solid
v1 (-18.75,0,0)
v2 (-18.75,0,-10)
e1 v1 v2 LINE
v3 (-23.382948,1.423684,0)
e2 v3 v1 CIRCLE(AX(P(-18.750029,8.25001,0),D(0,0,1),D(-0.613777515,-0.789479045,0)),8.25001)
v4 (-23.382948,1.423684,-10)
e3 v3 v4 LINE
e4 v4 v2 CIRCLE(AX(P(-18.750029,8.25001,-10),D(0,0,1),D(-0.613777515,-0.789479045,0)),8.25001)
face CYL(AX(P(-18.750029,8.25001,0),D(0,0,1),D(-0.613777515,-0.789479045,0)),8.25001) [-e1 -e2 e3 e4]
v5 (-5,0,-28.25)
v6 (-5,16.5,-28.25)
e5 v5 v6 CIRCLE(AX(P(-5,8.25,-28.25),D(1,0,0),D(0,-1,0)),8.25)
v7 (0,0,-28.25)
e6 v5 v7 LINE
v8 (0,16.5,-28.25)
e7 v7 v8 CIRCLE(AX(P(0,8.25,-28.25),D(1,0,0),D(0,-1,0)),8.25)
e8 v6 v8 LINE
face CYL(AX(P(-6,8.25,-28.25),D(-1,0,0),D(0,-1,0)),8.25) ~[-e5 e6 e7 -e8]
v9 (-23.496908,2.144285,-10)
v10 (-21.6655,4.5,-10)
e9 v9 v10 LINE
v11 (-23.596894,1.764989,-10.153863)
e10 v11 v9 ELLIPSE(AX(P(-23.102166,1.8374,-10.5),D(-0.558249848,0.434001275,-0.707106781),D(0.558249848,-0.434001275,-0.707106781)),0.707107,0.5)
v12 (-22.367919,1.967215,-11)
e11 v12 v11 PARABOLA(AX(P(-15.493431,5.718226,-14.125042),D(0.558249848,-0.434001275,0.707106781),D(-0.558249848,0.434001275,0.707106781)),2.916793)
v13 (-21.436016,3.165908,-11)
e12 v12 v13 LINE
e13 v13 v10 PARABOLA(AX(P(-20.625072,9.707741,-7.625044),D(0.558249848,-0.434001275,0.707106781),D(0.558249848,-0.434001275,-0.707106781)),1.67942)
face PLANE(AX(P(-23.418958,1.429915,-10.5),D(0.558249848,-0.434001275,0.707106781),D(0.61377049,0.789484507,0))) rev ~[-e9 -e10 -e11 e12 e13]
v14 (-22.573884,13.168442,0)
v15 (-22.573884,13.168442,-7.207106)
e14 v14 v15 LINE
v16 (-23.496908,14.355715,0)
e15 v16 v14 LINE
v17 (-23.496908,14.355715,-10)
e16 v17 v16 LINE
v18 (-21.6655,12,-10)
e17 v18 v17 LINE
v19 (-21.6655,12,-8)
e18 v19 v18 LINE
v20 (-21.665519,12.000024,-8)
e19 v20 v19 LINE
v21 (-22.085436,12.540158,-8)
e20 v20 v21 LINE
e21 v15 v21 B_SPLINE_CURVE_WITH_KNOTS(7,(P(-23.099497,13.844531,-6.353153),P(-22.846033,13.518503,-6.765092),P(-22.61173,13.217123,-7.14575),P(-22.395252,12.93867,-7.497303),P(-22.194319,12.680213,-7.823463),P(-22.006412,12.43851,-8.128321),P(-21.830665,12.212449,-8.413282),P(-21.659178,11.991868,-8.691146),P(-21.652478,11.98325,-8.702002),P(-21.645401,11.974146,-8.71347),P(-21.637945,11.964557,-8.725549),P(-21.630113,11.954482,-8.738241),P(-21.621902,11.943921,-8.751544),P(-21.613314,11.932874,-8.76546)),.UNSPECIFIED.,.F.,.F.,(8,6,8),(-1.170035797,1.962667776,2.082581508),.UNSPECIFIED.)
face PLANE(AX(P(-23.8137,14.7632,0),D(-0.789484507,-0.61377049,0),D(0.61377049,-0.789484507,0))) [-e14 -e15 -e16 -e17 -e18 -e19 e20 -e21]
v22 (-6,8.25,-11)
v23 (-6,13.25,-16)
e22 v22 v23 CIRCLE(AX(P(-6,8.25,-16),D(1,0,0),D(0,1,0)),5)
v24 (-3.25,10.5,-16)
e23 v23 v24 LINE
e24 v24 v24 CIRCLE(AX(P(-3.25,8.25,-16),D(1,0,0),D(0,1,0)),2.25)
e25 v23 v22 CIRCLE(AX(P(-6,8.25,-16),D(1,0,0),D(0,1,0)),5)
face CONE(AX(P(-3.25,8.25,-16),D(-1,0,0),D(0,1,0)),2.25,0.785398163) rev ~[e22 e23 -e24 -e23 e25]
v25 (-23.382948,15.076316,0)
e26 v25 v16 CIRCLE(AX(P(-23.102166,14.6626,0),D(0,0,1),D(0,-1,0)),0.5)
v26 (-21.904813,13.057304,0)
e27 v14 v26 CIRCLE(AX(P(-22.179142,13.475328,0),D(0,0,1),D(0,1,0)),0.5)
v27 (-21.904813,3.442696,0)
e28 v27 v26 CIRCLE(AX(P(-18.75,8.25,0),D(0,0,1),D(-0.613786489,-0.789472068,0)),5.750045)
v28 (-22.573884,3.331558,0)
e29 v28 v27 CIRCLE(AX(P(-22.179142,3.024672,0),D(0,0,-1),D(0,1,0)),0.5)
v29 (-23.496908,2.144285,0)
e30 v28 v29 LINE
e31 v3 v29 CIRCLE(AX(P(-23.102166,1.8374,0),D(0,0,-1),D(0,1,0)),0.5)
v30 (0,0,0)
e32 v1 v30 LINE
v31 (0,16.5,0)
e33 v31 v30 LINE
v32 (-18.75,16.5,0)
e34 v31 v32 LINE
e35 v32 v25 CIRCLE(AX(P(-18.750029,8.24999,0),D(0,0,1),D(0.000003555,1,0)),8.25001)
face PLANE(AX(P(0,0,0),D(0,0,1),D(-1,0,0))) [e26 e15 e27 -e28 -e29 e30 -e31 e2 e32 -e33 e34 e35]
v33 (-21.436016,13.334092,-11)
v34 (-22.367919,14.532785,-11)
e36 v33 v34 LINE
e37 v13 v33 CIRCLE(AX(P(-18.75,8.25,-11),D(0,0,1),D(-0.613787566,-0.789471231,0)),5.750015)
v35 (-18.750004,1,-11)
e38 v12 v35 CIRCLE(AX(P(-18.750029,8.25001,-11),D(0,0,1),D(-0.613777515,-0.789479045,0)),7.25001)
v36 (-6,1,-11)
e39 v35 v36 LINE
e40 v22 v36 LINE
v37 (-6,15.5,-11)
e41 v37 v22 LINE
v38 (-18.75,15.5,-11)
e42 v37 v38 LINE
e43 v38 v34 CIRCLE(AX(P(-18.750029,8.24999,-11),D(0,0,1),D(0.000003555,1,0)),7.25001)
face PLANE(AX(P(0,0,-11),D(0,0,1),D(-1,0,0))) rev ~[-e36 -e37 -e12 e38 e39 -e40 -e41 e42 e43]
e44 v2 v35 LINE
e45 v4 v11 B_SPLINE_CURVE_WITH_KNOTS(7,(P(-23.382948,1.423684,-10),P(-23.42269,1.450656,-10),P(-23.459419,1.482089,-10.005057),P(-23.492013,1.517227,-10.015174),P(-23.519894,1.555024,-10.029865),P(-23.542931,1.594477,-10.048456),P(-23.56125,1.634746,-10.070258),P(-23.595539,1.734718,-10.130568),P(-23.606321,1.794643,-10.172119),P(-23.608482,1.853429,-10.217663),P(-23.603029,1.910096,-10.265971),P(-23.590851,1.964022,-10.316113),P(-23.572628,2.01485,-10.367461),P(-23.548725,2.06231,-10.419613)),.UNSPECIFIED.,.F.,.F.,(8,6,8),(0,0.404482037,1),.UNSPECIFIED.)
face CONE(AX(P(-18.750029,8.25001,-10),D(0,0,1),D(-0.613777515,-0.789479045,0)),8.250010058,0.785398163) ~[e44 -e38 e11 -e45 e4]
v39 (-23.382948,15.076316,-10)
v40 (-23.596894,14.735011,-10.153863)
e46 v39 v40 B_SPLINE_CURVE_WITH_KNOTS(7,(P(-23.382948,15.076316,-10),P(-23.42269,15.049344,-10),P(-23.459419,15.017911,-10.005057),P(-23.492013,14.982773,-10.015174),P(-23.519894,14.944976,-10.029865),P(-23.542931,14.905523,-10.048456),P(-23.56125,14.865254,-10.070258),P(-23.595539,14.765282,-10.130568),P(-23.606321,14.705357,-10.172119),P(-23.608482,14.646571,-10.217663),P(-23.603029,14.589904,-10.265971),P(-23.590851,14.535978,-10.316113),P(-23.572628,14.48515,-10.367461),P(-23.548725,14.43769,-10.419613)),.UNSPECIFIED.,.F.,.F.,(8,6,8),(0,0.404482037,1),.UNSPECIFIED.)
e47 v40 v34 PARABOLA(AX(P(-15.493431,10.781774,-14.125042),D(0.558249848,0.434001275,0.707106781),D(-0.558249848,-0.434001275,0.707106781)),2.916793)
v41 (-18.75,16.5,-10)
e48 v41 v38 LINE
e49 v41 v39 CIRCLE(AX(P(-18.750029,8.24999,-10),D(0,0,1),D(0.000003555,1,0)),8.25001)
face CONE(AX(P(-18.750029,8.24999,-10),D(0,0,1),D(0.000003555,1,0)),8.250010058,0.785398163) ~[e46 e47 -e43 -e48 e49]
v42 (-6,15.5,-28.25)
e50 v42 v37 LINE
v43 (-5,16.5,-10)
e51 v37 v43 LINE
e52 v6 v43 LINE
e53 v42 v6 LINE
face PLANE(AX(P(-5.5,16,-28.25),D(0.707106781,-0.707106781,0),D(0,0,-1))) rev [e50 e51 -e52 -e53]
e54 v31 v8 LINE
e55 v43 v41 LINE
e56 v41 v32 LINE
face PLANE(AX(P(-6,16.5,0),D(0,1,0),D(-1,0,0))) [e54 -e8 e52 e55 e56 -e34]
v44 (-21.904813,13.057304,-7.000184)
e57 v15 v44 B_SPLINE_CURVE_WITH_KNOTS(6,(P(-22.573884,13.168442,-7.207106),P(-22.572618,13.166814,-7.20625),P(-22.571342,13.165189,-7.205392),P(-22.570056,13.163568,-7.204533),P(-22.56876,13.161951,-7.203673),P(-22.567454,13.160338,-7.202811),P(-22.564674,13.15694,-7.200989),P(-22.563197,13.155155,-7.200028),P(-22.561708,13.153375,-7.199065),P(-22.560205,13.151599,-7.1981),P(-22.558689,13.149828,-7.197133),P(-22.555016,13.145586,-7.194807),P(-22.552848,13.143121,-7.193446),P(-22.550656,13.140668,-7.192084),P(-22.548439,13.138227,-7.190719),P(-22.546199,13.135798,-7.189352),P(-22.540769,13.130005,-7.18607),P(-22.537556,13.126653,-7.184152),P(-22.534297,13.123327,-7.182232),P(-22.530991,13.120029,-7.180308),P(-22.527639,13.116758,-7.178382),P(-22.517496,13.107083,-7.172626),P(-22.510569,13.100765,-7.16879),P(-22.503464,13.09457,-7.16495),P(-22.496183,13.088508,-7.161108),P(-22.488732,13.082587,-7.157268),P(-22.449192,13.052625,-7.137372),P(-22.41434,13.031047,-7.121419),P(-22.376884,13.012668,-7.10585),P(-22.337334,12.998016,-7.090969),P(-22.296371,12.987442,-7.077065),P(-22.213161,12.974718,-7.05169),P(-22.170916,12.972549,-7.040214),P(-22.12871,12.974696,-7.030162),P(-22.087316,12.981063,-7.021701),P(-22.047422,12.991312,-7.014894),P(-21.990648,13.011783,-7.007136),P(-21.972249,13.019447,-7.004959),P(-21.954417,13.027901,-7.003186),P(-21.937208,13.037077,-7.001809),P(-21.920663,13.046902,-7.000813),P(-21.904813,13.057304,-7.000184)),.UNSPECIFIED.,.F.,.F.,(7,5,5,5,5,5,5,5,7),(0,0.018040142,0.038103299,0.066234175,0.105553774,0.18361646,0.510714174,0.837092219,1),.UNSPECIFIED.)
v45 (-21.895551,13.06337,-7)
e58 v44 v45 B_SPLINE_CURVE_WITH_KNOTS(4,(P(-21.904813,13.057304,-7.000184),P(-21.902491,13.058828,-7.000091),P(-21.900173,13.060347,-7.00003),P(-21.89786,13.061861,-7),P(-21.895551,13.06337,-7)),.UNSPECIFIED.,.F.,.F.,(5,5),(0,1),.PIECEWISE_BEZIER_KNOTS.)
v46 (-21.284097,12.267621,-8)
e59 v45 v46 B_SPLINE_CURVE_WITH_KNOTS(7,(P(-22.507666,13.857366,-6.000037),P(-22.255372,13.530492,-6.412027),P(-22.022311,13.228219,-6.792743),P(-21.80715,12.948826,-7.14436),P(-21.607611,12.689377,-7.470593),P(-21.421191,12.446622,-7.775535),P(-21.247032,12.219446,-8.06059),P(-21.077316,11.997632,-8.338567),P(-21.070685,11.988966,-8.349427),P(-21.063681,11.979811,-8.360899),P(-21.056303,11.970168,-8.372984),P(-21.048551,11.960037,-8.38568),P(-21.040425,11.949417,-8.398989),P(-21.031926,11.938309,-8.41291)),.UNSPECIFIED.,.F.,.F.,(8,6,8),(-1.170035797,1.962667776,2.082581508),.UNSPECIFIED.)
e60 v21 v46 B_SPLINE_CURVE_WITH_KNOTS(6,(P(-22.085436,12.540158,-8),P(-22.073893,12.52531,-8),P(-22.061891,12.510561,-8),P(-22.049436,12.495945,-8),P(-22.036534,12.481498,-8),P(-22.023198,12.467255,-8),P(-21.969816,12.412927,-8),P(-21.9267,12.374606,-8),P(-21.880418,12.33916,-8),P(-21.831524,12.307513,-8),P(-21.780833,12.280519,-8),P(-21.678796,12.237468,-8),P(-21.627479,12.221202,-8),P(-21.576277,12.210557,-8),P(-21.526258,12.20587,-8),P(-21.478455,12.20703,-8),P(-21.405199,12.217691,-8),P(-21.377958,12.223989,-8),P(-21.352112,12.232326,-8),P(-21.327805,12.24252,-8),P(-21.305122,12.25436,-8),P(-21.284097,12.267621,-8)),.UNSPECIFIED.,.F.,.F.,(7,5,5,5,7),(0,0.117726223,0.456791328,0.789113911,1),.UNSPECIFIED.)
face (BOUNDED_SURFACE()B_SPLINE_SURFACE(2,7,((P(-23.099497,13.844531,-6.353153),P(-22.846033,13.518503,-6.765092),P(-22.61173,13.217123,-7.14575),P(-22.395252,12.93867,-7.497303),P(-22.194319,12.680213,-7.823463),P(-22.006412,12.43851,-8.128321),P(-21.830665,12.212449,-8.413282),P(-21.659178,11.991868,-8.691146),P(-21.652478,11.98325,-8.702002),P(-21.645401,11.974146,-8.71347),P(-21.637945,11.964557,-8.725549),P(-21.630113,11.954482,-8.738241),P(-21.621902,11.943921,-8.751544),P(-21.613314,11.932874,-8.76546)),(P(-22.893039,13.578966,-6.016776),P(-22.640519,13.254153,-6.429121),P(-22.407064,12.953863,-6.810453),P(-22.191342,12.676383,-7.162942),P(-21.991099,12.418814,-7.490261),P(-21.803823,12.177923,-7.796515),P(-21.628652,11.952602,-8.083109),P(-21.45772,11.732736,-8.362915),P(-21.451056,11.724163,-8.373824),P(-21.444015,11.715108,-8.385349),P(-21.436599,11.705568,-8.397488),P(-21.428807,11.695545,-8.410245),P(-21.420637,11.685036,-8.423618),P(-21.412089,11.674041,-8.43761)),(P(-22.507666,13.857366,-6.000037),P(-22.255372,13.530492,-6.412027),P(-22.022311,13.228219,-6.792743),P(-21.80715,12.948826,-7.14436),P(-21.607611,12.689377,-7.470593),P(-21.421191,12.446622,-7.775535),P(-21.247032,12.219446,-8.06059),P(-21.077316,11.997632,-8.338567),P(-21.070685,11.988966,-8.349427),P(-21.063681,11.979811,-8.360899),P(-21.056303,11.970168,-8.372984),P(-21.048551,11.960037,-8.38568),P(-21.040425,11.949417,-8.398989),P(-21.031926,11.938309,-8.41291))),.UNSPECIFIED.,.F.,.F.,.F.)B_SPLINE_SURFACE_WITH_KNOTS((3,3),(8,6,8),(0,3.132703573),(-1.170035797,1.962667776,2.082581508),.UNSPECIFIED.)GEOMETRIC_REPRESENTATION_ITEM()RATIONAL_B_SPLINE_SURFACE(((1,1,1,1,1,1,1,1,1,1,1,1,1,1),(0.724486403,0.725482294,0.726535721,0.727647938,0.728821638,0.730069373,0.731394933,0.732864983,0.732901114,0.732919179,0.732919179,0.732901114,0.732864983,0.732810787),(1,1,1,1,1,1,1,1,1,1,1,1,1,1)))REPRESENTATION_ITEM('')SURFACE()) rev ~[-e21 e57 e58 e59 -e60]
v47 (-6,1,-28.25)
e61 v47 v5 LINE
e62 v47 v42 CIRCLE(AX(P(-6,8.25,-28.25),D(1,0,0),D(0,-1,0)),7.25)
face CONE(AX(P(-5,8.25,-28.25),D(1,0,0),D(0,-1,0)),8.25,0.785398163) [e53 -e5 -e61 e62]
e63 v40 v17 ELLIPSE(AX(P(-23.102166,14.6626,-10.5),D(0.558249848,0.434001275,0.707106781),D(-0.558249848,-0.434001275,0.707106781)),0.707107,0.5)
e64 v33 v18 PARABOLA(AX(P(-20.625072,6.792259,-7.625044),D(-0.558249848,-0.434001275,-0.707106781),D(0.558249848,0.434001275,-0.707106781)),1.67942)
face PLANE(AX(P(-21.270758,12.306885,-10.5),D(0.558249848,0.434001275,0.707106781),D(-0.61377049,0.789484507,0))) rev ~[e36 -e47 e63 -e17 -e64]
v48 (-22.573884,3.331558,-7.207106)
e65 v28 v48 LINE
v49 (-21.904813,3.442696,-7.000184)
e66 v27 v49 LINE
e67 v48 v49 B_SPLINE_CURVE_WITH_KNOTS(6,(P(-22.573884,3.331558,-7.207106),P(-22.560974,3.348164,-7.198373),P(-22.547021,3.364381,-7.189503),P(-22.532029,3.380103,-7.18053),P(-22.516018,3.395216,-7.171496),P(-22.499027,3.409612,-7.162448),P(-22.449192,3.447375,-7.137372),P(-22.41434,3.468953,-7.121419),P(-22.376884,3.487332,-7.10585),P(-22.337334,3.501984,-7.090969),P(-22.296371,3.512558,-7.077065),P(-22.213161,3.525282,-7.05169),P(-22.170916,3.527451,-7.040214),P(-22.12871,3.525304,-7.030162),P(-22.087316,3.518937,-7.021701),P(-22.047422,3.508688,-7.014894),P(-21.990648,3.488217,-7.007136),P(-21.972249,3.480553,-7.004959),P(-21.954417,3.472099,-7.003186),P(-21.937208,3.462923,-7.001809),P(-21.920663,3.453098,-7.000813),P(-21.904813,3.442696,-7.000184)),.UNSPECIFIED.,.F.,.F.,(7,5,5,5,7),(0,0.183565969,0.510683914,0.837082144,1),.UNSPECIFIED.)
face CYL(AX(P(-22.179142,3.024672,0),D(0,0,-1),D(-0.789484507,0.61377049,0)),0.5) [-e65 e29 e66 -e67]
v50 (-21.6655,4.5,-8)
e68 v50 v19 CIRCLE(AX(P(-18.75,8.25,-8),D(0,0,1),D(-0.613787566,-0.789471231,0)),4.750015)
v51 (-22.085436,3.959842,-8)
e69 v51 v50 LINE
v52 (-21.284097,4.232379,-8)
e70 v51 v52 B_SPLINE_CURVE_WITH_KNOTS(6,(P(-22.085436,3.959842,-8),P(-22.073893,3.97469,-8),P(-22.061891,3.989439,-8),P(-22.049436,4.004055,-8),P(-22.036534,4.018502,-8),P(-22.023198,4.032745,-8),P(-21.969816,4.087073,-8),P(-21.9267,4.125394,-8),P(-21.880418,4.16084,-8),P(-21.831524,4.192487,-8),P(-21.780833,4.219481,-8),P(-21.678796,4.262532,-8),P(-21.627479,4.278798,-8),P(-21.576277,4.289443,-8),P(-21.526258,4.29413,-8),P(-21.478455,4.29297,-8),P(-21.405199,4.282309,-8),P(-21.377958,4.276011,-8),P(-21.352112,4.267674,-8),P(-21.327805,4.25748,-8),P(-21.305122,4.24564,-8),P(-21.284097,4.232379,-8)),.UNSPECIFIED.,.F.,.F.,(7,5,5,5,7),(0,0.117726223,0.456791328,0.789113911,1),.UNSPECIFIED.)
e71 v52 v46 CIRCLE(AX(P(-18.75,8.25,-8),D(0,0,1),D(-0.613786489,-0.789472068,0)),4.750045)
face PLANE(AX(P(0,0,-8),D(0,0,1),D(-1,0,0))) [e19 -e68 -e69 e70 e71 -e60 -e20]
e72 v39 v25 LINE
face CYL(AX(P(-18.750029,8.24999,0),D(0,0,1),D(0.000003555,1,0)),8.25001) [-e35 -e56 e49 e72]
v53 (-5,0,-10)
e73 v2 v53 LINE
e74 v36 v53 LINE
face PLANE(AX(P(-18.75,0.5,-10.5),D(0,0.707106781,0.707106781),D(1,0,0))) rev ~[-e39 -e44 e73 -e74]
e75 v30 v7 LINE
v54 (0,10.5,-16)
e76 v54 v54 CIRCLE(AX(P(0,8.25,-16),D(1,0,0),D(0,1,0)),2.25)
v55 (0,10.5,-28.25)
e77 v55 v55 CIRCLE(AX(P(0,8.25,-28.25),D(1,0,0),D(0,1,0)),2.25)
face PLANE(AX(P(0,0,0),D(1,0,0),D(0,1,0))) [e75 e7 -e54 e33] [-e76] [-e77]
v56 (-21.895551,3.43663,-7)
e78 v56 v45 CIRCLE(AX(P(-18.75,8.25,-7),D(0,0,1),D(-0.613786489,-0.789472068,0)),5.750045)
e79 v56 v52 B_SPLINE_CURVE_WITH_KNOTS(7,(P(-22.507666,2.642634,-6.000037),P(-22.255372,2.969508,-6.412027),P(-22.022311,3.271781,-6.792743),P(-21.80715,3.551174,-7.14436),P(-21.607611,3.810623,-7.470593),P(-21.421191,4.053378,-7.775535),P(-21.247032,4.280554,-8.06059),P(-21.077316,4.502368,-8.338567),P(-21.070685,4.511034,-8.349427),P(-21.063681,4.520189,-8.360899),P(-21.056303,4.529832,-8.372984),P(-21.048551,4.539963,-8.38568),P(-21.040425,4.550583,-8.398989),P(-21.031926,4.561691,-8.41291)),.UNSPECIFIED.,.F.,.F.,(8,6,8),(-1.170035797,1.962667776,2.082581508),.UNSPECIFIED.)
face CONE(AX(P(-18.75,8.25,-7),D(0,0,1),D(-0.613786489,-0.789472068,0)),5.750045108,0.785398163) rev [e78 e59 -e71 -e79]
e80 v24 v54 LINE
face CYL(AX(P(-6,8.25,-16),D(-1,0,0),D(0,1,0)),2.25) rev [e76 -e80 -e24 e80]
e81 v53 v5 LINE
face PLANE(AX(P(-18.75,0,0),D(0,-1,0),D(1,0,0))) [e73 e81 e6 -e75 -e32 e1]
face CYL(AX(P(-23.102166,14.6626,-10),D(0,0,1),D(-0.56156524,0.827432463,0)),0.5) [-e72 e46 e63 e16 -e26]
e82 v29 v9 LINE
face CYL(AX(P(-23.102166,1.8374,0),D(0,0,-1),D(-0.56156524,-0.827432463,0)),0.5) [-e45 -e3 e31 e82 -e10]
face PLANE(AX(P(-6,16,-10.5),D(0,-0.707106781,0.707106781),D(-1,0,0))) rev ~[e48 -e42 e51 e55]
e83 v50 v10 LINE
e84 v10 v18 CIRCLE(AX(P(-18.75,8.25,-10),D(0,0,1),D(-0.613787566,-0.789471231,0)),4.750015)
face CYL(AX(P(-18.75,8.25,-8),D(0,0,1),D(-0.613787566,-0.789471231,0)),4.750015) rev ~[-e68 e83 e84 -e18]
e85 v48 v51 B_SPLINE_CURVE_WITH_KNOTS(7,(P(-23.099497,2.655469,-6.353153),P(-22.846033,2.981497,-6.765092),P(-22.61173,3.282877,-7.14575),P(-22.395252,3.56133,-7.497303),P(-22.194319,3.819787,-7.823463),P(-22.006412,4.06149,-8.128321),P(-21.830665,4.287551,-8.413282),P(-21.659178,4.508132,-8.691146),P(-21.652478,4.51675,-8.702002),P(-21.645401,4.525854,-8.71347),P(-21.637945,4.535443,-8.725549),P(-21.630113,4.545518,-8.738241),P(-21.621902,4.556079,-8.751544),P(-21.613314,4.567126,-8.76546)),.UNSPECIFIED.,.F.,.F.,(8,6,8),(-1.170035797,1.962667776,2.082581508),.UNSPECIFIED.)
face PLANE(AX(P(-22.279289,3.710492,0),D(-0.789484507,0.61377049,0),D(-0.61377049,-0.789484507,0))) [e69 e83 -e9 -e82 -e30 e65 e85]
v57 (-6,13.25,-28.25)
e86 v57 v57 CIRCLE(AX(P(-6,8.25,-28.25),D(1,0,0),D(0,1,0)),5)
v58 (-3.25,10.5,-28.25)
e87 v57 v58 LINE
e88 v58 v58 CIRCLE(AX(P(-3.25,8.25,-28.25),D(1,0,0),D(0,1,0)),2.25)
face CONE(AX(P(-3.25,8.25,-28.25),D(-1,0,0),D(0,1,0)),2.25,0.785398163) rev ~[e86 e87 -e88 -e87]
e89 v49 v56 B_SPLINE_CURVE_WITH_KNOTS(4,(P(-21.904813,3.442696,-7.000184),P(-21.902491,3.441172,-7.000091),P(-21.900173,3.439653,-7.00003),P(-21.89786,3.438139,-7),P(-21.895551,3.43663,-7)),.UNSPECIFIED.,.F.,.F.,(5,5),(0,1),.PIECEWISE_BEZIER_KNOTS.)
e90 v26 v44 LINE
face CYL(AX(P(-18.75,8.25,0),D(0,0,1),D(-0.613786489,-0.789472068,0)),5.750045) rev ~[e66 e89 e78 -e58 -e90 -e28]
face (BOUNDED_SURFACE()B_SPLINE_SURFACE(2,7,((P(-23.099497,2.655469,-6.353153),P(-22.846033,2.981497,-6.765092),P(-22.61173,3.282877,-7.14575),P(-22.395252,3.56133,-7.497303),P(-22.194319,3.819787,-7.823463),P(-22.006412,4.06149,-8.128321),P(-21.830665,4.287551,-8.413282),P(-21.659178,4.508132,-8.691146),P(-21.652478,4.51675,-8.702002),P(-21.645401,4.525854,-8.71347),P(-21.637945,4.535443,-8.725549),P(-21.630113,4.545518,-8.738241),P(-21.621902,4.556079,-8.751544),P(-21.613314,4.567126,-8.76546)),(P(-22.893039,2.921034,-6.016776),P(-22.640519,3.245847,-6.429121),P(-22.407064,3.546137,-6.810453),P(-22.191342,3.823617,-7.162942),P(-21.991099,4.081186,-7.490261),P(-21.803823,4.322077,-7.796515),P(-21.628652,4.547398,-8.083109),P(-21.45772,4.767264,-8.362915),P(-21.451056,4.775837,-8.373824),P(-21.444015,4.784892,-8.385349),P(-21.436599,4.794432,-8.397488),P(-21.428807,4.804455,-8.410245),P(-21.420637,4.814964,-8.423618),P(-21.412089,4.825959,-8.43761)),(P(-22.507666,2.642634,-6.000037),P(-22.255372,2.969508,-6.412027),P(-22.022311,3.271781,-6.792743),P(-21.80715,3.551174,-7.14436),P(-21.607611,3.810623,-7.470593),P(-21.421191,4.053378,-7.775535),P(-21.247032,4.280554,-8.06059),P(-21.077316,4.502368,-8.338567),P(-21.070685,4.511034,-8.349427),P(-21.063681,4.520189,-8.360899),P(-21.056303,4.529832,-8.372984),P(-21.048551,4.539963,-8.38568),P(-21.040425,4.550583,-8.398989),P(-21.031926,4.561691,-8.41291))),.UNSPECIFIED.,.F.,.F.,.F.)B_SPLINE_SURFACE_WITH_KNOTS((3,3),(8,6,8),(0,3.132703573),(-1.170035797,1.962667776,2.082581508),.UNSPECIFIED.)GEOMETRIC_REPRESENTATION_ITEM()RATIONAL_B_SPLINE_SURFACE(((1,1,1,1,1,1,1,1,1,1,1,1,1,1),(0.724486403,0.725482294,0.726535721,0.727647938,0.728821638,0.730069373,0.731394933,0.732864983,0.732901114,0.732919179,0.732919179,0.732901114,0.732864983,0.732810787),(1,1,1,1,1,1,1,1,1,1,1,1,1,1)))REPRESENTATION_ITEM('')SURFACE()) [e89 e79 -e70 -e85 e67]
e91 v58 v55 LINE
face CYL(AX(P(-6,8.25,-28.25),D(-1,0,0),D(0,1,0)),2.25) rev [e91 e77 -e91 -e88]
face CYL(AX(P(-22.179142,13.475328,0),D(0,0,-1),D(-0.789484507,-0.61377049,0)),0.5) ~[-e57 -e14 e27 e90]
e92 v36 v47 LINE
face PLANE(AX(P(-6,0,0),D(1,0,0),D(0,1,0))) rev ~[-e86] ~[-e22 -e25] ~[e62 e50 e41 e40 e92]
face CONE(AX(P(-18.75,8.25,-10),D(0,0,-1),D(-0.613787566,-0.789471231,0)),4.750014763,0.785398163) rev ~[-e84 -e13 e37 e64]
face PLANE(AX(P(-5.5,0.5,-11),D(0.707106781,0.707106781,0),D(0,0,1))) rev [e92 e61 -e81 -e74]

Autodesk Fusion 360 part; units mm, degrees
sketch "holder" plane through (0, 0, 0) normal (0, 0, 1) x (-1, 0, 0)
  line L0 (6, -16.5) -> (18.75, -16.5)
  line L1 (18.75, 0) -> (6, 0)
  line L2 (23.8137, -14.7632) -> (21.6655, -12)
  line L3 (21.6655, -4.5) -> (23.8137, -1.7368)
  line L4 (21.6655, -12) -> (18.75, -8.25) construction
  line L5 (18.75, -8.25) -> (21.6655, -4.5) construction
  line L6 (18.75, -8.25) -> (21.6655, -8.25) construction
  line L7 (21.6655, -8.25) -> (21.6655, -12) construction
  line L8 (21.6655, -8.25) -> (21.6655, -4.5) construction
  line L9 (18.75, -8.25) -> (13, -8.25) construction
  arc A0 (18.75, -16.5) -> (23.8137, -14.7632) centre (18.75, -8.25) ccw
  arc A1 (23.8137, -1.7368) -> (18.75, 0) centre (18.75, -8.25) ccw
  arc A2 (22.2793, -3.7105) -> (22.2793, -12.7895) centre (18.75, -8.25) ccw
  arc A3 (21.6655, -4.5) -> (21.6655, -12) centre (18.75, -8.25) ccw
  line L10 (6, -16.5) -> (0, -16.5)
  line L11 (0, -16.5) -> (0, 0)
  line L12 (0, 0) -> (6, 0)
  line L13 (6, -16.5) -> (6, 0)
  dimension "d49" = 11.5
  dimension "d50" = 9.5
  dimension "d51" = 7.5
  dimension "d63" = 6
  dimension "d64" = 13
  dimension "d65" = 16.5
extrude "Extrude4" add sketch "holder" against normal blind 8 contours L0 L1 L2 L3 A0 A1 A2 L13
extrude "Extrude5" add sketch "holder" against normal blind 3 from surface at -8 contours L0 L1 L2 L3 A0 A1 A2 L13 | L2 L3 A2 A3
chamfer "Chamfer4" distance 1 angle 45 1 edges at (-13, 8.25, -8)
sketch "screws" plane through (-6, 0, 0) normal (1, 0, 0) x (0, 1, 0)
  line L0 (16.5, 0) -> (0, 0)
  line L1 (0, 0) -> (0, -11)
  line L2 (0, -11) -> (16.5, -11)
  line L3 (16.5, -11) -> (16.5, 0)
  circle A0 centre (8.25, -16) radius 2.25
  circle A1 centre (8.25, -16) radius 5
  circle A2 centre (8.25, -28.25) radius 2.25
  circle A3 centre (8.25, -28.25) radius 5
  line L4 (8.25, -16) -> (8.25, -28.25) construction
  line L5 (8.25, -16) -> (8.25, -11) construction
  line L6 (0, 0) -> (0, -28.25)
  arc A4 (0, -28.25) -> (16.5, -28.25) centre (8.25, -28.25) ccw
  line L7 (16.5, -28.25) -> (16.5, 0)
  line L8 (0, 0) -> (16.5, 0)
  point P0 (8.25, -11)
  dimension "d77" = 4.5
  dimension "d78" = 10
  dimension "d79" = 12.25
extrude "Extrude7" add sketch "screws" along normal blind 6 contours L0 L1 L2 L3 L6 L7 L8 | A1 | L2 L6 A4 L7 | A3
chamfer "Chamfer5" distance 2.75 angle 45 2 edges at (-6, 6.1523, -15.1864) (-6, 6.1523, -27.4364)
chamfer "Chamfer6" distance 1 angle 45 10 edges at (-6, 16.5, -19.625) (-6, 0, -19.625) (-6, 8.25, -36.5) (-12.375, 16.5, -11) (-21.4267, 16.0537, -11) (-22.7396, 13.3816, -11) (-14, 8.25, -11) (-22.7396, 3.1184, -11) (-12.375, 0, -11) (-21.4267, 0.4463, -11)
fillet "Fillet5" radius 0.5 6 edges at (-23.8137, 14.7632, -5) (-22.2793, 12.7895, -3.5) (-21.9724, 12.3947, -7.5) (-22.2793, 3.7105, -3.5) (-23.8137, 1.7368, -5) (-21.9724, 4.1053, -7.5)
equation "d49 = largeD"
equation "d50 = smallD"
equation "d51 = opening"
equation "d63 = mountT"
equation "d64 = largeProjection"
equation "d65 = width"
equation "screwOuterD = 10 mm"
equation "screwInnerD = 4.5 mm"
equation "smallD = ( largeD + opening ) / 2"
equation "largeD = 11.5 mm"
equation "opening = 7.5 mm"
equation "largeProjection = 13 mm"
equation "width = largeD + 5 mm"
equation "sheathH = 8 mm"
equation "d76 = ( largeD - smallD ) / 2"
equation "d77 = screwInnerD"
equation "d78 = screwOuterD"
equation "d79 = screwOuterD + screwInnerD / 2"
equation "mountT = 6 mm"
equation "d81 = mountT"
equation "d83 = ( screwOuterD - screwInnerD ) / 2"
equation "lipH = 3 mm"
